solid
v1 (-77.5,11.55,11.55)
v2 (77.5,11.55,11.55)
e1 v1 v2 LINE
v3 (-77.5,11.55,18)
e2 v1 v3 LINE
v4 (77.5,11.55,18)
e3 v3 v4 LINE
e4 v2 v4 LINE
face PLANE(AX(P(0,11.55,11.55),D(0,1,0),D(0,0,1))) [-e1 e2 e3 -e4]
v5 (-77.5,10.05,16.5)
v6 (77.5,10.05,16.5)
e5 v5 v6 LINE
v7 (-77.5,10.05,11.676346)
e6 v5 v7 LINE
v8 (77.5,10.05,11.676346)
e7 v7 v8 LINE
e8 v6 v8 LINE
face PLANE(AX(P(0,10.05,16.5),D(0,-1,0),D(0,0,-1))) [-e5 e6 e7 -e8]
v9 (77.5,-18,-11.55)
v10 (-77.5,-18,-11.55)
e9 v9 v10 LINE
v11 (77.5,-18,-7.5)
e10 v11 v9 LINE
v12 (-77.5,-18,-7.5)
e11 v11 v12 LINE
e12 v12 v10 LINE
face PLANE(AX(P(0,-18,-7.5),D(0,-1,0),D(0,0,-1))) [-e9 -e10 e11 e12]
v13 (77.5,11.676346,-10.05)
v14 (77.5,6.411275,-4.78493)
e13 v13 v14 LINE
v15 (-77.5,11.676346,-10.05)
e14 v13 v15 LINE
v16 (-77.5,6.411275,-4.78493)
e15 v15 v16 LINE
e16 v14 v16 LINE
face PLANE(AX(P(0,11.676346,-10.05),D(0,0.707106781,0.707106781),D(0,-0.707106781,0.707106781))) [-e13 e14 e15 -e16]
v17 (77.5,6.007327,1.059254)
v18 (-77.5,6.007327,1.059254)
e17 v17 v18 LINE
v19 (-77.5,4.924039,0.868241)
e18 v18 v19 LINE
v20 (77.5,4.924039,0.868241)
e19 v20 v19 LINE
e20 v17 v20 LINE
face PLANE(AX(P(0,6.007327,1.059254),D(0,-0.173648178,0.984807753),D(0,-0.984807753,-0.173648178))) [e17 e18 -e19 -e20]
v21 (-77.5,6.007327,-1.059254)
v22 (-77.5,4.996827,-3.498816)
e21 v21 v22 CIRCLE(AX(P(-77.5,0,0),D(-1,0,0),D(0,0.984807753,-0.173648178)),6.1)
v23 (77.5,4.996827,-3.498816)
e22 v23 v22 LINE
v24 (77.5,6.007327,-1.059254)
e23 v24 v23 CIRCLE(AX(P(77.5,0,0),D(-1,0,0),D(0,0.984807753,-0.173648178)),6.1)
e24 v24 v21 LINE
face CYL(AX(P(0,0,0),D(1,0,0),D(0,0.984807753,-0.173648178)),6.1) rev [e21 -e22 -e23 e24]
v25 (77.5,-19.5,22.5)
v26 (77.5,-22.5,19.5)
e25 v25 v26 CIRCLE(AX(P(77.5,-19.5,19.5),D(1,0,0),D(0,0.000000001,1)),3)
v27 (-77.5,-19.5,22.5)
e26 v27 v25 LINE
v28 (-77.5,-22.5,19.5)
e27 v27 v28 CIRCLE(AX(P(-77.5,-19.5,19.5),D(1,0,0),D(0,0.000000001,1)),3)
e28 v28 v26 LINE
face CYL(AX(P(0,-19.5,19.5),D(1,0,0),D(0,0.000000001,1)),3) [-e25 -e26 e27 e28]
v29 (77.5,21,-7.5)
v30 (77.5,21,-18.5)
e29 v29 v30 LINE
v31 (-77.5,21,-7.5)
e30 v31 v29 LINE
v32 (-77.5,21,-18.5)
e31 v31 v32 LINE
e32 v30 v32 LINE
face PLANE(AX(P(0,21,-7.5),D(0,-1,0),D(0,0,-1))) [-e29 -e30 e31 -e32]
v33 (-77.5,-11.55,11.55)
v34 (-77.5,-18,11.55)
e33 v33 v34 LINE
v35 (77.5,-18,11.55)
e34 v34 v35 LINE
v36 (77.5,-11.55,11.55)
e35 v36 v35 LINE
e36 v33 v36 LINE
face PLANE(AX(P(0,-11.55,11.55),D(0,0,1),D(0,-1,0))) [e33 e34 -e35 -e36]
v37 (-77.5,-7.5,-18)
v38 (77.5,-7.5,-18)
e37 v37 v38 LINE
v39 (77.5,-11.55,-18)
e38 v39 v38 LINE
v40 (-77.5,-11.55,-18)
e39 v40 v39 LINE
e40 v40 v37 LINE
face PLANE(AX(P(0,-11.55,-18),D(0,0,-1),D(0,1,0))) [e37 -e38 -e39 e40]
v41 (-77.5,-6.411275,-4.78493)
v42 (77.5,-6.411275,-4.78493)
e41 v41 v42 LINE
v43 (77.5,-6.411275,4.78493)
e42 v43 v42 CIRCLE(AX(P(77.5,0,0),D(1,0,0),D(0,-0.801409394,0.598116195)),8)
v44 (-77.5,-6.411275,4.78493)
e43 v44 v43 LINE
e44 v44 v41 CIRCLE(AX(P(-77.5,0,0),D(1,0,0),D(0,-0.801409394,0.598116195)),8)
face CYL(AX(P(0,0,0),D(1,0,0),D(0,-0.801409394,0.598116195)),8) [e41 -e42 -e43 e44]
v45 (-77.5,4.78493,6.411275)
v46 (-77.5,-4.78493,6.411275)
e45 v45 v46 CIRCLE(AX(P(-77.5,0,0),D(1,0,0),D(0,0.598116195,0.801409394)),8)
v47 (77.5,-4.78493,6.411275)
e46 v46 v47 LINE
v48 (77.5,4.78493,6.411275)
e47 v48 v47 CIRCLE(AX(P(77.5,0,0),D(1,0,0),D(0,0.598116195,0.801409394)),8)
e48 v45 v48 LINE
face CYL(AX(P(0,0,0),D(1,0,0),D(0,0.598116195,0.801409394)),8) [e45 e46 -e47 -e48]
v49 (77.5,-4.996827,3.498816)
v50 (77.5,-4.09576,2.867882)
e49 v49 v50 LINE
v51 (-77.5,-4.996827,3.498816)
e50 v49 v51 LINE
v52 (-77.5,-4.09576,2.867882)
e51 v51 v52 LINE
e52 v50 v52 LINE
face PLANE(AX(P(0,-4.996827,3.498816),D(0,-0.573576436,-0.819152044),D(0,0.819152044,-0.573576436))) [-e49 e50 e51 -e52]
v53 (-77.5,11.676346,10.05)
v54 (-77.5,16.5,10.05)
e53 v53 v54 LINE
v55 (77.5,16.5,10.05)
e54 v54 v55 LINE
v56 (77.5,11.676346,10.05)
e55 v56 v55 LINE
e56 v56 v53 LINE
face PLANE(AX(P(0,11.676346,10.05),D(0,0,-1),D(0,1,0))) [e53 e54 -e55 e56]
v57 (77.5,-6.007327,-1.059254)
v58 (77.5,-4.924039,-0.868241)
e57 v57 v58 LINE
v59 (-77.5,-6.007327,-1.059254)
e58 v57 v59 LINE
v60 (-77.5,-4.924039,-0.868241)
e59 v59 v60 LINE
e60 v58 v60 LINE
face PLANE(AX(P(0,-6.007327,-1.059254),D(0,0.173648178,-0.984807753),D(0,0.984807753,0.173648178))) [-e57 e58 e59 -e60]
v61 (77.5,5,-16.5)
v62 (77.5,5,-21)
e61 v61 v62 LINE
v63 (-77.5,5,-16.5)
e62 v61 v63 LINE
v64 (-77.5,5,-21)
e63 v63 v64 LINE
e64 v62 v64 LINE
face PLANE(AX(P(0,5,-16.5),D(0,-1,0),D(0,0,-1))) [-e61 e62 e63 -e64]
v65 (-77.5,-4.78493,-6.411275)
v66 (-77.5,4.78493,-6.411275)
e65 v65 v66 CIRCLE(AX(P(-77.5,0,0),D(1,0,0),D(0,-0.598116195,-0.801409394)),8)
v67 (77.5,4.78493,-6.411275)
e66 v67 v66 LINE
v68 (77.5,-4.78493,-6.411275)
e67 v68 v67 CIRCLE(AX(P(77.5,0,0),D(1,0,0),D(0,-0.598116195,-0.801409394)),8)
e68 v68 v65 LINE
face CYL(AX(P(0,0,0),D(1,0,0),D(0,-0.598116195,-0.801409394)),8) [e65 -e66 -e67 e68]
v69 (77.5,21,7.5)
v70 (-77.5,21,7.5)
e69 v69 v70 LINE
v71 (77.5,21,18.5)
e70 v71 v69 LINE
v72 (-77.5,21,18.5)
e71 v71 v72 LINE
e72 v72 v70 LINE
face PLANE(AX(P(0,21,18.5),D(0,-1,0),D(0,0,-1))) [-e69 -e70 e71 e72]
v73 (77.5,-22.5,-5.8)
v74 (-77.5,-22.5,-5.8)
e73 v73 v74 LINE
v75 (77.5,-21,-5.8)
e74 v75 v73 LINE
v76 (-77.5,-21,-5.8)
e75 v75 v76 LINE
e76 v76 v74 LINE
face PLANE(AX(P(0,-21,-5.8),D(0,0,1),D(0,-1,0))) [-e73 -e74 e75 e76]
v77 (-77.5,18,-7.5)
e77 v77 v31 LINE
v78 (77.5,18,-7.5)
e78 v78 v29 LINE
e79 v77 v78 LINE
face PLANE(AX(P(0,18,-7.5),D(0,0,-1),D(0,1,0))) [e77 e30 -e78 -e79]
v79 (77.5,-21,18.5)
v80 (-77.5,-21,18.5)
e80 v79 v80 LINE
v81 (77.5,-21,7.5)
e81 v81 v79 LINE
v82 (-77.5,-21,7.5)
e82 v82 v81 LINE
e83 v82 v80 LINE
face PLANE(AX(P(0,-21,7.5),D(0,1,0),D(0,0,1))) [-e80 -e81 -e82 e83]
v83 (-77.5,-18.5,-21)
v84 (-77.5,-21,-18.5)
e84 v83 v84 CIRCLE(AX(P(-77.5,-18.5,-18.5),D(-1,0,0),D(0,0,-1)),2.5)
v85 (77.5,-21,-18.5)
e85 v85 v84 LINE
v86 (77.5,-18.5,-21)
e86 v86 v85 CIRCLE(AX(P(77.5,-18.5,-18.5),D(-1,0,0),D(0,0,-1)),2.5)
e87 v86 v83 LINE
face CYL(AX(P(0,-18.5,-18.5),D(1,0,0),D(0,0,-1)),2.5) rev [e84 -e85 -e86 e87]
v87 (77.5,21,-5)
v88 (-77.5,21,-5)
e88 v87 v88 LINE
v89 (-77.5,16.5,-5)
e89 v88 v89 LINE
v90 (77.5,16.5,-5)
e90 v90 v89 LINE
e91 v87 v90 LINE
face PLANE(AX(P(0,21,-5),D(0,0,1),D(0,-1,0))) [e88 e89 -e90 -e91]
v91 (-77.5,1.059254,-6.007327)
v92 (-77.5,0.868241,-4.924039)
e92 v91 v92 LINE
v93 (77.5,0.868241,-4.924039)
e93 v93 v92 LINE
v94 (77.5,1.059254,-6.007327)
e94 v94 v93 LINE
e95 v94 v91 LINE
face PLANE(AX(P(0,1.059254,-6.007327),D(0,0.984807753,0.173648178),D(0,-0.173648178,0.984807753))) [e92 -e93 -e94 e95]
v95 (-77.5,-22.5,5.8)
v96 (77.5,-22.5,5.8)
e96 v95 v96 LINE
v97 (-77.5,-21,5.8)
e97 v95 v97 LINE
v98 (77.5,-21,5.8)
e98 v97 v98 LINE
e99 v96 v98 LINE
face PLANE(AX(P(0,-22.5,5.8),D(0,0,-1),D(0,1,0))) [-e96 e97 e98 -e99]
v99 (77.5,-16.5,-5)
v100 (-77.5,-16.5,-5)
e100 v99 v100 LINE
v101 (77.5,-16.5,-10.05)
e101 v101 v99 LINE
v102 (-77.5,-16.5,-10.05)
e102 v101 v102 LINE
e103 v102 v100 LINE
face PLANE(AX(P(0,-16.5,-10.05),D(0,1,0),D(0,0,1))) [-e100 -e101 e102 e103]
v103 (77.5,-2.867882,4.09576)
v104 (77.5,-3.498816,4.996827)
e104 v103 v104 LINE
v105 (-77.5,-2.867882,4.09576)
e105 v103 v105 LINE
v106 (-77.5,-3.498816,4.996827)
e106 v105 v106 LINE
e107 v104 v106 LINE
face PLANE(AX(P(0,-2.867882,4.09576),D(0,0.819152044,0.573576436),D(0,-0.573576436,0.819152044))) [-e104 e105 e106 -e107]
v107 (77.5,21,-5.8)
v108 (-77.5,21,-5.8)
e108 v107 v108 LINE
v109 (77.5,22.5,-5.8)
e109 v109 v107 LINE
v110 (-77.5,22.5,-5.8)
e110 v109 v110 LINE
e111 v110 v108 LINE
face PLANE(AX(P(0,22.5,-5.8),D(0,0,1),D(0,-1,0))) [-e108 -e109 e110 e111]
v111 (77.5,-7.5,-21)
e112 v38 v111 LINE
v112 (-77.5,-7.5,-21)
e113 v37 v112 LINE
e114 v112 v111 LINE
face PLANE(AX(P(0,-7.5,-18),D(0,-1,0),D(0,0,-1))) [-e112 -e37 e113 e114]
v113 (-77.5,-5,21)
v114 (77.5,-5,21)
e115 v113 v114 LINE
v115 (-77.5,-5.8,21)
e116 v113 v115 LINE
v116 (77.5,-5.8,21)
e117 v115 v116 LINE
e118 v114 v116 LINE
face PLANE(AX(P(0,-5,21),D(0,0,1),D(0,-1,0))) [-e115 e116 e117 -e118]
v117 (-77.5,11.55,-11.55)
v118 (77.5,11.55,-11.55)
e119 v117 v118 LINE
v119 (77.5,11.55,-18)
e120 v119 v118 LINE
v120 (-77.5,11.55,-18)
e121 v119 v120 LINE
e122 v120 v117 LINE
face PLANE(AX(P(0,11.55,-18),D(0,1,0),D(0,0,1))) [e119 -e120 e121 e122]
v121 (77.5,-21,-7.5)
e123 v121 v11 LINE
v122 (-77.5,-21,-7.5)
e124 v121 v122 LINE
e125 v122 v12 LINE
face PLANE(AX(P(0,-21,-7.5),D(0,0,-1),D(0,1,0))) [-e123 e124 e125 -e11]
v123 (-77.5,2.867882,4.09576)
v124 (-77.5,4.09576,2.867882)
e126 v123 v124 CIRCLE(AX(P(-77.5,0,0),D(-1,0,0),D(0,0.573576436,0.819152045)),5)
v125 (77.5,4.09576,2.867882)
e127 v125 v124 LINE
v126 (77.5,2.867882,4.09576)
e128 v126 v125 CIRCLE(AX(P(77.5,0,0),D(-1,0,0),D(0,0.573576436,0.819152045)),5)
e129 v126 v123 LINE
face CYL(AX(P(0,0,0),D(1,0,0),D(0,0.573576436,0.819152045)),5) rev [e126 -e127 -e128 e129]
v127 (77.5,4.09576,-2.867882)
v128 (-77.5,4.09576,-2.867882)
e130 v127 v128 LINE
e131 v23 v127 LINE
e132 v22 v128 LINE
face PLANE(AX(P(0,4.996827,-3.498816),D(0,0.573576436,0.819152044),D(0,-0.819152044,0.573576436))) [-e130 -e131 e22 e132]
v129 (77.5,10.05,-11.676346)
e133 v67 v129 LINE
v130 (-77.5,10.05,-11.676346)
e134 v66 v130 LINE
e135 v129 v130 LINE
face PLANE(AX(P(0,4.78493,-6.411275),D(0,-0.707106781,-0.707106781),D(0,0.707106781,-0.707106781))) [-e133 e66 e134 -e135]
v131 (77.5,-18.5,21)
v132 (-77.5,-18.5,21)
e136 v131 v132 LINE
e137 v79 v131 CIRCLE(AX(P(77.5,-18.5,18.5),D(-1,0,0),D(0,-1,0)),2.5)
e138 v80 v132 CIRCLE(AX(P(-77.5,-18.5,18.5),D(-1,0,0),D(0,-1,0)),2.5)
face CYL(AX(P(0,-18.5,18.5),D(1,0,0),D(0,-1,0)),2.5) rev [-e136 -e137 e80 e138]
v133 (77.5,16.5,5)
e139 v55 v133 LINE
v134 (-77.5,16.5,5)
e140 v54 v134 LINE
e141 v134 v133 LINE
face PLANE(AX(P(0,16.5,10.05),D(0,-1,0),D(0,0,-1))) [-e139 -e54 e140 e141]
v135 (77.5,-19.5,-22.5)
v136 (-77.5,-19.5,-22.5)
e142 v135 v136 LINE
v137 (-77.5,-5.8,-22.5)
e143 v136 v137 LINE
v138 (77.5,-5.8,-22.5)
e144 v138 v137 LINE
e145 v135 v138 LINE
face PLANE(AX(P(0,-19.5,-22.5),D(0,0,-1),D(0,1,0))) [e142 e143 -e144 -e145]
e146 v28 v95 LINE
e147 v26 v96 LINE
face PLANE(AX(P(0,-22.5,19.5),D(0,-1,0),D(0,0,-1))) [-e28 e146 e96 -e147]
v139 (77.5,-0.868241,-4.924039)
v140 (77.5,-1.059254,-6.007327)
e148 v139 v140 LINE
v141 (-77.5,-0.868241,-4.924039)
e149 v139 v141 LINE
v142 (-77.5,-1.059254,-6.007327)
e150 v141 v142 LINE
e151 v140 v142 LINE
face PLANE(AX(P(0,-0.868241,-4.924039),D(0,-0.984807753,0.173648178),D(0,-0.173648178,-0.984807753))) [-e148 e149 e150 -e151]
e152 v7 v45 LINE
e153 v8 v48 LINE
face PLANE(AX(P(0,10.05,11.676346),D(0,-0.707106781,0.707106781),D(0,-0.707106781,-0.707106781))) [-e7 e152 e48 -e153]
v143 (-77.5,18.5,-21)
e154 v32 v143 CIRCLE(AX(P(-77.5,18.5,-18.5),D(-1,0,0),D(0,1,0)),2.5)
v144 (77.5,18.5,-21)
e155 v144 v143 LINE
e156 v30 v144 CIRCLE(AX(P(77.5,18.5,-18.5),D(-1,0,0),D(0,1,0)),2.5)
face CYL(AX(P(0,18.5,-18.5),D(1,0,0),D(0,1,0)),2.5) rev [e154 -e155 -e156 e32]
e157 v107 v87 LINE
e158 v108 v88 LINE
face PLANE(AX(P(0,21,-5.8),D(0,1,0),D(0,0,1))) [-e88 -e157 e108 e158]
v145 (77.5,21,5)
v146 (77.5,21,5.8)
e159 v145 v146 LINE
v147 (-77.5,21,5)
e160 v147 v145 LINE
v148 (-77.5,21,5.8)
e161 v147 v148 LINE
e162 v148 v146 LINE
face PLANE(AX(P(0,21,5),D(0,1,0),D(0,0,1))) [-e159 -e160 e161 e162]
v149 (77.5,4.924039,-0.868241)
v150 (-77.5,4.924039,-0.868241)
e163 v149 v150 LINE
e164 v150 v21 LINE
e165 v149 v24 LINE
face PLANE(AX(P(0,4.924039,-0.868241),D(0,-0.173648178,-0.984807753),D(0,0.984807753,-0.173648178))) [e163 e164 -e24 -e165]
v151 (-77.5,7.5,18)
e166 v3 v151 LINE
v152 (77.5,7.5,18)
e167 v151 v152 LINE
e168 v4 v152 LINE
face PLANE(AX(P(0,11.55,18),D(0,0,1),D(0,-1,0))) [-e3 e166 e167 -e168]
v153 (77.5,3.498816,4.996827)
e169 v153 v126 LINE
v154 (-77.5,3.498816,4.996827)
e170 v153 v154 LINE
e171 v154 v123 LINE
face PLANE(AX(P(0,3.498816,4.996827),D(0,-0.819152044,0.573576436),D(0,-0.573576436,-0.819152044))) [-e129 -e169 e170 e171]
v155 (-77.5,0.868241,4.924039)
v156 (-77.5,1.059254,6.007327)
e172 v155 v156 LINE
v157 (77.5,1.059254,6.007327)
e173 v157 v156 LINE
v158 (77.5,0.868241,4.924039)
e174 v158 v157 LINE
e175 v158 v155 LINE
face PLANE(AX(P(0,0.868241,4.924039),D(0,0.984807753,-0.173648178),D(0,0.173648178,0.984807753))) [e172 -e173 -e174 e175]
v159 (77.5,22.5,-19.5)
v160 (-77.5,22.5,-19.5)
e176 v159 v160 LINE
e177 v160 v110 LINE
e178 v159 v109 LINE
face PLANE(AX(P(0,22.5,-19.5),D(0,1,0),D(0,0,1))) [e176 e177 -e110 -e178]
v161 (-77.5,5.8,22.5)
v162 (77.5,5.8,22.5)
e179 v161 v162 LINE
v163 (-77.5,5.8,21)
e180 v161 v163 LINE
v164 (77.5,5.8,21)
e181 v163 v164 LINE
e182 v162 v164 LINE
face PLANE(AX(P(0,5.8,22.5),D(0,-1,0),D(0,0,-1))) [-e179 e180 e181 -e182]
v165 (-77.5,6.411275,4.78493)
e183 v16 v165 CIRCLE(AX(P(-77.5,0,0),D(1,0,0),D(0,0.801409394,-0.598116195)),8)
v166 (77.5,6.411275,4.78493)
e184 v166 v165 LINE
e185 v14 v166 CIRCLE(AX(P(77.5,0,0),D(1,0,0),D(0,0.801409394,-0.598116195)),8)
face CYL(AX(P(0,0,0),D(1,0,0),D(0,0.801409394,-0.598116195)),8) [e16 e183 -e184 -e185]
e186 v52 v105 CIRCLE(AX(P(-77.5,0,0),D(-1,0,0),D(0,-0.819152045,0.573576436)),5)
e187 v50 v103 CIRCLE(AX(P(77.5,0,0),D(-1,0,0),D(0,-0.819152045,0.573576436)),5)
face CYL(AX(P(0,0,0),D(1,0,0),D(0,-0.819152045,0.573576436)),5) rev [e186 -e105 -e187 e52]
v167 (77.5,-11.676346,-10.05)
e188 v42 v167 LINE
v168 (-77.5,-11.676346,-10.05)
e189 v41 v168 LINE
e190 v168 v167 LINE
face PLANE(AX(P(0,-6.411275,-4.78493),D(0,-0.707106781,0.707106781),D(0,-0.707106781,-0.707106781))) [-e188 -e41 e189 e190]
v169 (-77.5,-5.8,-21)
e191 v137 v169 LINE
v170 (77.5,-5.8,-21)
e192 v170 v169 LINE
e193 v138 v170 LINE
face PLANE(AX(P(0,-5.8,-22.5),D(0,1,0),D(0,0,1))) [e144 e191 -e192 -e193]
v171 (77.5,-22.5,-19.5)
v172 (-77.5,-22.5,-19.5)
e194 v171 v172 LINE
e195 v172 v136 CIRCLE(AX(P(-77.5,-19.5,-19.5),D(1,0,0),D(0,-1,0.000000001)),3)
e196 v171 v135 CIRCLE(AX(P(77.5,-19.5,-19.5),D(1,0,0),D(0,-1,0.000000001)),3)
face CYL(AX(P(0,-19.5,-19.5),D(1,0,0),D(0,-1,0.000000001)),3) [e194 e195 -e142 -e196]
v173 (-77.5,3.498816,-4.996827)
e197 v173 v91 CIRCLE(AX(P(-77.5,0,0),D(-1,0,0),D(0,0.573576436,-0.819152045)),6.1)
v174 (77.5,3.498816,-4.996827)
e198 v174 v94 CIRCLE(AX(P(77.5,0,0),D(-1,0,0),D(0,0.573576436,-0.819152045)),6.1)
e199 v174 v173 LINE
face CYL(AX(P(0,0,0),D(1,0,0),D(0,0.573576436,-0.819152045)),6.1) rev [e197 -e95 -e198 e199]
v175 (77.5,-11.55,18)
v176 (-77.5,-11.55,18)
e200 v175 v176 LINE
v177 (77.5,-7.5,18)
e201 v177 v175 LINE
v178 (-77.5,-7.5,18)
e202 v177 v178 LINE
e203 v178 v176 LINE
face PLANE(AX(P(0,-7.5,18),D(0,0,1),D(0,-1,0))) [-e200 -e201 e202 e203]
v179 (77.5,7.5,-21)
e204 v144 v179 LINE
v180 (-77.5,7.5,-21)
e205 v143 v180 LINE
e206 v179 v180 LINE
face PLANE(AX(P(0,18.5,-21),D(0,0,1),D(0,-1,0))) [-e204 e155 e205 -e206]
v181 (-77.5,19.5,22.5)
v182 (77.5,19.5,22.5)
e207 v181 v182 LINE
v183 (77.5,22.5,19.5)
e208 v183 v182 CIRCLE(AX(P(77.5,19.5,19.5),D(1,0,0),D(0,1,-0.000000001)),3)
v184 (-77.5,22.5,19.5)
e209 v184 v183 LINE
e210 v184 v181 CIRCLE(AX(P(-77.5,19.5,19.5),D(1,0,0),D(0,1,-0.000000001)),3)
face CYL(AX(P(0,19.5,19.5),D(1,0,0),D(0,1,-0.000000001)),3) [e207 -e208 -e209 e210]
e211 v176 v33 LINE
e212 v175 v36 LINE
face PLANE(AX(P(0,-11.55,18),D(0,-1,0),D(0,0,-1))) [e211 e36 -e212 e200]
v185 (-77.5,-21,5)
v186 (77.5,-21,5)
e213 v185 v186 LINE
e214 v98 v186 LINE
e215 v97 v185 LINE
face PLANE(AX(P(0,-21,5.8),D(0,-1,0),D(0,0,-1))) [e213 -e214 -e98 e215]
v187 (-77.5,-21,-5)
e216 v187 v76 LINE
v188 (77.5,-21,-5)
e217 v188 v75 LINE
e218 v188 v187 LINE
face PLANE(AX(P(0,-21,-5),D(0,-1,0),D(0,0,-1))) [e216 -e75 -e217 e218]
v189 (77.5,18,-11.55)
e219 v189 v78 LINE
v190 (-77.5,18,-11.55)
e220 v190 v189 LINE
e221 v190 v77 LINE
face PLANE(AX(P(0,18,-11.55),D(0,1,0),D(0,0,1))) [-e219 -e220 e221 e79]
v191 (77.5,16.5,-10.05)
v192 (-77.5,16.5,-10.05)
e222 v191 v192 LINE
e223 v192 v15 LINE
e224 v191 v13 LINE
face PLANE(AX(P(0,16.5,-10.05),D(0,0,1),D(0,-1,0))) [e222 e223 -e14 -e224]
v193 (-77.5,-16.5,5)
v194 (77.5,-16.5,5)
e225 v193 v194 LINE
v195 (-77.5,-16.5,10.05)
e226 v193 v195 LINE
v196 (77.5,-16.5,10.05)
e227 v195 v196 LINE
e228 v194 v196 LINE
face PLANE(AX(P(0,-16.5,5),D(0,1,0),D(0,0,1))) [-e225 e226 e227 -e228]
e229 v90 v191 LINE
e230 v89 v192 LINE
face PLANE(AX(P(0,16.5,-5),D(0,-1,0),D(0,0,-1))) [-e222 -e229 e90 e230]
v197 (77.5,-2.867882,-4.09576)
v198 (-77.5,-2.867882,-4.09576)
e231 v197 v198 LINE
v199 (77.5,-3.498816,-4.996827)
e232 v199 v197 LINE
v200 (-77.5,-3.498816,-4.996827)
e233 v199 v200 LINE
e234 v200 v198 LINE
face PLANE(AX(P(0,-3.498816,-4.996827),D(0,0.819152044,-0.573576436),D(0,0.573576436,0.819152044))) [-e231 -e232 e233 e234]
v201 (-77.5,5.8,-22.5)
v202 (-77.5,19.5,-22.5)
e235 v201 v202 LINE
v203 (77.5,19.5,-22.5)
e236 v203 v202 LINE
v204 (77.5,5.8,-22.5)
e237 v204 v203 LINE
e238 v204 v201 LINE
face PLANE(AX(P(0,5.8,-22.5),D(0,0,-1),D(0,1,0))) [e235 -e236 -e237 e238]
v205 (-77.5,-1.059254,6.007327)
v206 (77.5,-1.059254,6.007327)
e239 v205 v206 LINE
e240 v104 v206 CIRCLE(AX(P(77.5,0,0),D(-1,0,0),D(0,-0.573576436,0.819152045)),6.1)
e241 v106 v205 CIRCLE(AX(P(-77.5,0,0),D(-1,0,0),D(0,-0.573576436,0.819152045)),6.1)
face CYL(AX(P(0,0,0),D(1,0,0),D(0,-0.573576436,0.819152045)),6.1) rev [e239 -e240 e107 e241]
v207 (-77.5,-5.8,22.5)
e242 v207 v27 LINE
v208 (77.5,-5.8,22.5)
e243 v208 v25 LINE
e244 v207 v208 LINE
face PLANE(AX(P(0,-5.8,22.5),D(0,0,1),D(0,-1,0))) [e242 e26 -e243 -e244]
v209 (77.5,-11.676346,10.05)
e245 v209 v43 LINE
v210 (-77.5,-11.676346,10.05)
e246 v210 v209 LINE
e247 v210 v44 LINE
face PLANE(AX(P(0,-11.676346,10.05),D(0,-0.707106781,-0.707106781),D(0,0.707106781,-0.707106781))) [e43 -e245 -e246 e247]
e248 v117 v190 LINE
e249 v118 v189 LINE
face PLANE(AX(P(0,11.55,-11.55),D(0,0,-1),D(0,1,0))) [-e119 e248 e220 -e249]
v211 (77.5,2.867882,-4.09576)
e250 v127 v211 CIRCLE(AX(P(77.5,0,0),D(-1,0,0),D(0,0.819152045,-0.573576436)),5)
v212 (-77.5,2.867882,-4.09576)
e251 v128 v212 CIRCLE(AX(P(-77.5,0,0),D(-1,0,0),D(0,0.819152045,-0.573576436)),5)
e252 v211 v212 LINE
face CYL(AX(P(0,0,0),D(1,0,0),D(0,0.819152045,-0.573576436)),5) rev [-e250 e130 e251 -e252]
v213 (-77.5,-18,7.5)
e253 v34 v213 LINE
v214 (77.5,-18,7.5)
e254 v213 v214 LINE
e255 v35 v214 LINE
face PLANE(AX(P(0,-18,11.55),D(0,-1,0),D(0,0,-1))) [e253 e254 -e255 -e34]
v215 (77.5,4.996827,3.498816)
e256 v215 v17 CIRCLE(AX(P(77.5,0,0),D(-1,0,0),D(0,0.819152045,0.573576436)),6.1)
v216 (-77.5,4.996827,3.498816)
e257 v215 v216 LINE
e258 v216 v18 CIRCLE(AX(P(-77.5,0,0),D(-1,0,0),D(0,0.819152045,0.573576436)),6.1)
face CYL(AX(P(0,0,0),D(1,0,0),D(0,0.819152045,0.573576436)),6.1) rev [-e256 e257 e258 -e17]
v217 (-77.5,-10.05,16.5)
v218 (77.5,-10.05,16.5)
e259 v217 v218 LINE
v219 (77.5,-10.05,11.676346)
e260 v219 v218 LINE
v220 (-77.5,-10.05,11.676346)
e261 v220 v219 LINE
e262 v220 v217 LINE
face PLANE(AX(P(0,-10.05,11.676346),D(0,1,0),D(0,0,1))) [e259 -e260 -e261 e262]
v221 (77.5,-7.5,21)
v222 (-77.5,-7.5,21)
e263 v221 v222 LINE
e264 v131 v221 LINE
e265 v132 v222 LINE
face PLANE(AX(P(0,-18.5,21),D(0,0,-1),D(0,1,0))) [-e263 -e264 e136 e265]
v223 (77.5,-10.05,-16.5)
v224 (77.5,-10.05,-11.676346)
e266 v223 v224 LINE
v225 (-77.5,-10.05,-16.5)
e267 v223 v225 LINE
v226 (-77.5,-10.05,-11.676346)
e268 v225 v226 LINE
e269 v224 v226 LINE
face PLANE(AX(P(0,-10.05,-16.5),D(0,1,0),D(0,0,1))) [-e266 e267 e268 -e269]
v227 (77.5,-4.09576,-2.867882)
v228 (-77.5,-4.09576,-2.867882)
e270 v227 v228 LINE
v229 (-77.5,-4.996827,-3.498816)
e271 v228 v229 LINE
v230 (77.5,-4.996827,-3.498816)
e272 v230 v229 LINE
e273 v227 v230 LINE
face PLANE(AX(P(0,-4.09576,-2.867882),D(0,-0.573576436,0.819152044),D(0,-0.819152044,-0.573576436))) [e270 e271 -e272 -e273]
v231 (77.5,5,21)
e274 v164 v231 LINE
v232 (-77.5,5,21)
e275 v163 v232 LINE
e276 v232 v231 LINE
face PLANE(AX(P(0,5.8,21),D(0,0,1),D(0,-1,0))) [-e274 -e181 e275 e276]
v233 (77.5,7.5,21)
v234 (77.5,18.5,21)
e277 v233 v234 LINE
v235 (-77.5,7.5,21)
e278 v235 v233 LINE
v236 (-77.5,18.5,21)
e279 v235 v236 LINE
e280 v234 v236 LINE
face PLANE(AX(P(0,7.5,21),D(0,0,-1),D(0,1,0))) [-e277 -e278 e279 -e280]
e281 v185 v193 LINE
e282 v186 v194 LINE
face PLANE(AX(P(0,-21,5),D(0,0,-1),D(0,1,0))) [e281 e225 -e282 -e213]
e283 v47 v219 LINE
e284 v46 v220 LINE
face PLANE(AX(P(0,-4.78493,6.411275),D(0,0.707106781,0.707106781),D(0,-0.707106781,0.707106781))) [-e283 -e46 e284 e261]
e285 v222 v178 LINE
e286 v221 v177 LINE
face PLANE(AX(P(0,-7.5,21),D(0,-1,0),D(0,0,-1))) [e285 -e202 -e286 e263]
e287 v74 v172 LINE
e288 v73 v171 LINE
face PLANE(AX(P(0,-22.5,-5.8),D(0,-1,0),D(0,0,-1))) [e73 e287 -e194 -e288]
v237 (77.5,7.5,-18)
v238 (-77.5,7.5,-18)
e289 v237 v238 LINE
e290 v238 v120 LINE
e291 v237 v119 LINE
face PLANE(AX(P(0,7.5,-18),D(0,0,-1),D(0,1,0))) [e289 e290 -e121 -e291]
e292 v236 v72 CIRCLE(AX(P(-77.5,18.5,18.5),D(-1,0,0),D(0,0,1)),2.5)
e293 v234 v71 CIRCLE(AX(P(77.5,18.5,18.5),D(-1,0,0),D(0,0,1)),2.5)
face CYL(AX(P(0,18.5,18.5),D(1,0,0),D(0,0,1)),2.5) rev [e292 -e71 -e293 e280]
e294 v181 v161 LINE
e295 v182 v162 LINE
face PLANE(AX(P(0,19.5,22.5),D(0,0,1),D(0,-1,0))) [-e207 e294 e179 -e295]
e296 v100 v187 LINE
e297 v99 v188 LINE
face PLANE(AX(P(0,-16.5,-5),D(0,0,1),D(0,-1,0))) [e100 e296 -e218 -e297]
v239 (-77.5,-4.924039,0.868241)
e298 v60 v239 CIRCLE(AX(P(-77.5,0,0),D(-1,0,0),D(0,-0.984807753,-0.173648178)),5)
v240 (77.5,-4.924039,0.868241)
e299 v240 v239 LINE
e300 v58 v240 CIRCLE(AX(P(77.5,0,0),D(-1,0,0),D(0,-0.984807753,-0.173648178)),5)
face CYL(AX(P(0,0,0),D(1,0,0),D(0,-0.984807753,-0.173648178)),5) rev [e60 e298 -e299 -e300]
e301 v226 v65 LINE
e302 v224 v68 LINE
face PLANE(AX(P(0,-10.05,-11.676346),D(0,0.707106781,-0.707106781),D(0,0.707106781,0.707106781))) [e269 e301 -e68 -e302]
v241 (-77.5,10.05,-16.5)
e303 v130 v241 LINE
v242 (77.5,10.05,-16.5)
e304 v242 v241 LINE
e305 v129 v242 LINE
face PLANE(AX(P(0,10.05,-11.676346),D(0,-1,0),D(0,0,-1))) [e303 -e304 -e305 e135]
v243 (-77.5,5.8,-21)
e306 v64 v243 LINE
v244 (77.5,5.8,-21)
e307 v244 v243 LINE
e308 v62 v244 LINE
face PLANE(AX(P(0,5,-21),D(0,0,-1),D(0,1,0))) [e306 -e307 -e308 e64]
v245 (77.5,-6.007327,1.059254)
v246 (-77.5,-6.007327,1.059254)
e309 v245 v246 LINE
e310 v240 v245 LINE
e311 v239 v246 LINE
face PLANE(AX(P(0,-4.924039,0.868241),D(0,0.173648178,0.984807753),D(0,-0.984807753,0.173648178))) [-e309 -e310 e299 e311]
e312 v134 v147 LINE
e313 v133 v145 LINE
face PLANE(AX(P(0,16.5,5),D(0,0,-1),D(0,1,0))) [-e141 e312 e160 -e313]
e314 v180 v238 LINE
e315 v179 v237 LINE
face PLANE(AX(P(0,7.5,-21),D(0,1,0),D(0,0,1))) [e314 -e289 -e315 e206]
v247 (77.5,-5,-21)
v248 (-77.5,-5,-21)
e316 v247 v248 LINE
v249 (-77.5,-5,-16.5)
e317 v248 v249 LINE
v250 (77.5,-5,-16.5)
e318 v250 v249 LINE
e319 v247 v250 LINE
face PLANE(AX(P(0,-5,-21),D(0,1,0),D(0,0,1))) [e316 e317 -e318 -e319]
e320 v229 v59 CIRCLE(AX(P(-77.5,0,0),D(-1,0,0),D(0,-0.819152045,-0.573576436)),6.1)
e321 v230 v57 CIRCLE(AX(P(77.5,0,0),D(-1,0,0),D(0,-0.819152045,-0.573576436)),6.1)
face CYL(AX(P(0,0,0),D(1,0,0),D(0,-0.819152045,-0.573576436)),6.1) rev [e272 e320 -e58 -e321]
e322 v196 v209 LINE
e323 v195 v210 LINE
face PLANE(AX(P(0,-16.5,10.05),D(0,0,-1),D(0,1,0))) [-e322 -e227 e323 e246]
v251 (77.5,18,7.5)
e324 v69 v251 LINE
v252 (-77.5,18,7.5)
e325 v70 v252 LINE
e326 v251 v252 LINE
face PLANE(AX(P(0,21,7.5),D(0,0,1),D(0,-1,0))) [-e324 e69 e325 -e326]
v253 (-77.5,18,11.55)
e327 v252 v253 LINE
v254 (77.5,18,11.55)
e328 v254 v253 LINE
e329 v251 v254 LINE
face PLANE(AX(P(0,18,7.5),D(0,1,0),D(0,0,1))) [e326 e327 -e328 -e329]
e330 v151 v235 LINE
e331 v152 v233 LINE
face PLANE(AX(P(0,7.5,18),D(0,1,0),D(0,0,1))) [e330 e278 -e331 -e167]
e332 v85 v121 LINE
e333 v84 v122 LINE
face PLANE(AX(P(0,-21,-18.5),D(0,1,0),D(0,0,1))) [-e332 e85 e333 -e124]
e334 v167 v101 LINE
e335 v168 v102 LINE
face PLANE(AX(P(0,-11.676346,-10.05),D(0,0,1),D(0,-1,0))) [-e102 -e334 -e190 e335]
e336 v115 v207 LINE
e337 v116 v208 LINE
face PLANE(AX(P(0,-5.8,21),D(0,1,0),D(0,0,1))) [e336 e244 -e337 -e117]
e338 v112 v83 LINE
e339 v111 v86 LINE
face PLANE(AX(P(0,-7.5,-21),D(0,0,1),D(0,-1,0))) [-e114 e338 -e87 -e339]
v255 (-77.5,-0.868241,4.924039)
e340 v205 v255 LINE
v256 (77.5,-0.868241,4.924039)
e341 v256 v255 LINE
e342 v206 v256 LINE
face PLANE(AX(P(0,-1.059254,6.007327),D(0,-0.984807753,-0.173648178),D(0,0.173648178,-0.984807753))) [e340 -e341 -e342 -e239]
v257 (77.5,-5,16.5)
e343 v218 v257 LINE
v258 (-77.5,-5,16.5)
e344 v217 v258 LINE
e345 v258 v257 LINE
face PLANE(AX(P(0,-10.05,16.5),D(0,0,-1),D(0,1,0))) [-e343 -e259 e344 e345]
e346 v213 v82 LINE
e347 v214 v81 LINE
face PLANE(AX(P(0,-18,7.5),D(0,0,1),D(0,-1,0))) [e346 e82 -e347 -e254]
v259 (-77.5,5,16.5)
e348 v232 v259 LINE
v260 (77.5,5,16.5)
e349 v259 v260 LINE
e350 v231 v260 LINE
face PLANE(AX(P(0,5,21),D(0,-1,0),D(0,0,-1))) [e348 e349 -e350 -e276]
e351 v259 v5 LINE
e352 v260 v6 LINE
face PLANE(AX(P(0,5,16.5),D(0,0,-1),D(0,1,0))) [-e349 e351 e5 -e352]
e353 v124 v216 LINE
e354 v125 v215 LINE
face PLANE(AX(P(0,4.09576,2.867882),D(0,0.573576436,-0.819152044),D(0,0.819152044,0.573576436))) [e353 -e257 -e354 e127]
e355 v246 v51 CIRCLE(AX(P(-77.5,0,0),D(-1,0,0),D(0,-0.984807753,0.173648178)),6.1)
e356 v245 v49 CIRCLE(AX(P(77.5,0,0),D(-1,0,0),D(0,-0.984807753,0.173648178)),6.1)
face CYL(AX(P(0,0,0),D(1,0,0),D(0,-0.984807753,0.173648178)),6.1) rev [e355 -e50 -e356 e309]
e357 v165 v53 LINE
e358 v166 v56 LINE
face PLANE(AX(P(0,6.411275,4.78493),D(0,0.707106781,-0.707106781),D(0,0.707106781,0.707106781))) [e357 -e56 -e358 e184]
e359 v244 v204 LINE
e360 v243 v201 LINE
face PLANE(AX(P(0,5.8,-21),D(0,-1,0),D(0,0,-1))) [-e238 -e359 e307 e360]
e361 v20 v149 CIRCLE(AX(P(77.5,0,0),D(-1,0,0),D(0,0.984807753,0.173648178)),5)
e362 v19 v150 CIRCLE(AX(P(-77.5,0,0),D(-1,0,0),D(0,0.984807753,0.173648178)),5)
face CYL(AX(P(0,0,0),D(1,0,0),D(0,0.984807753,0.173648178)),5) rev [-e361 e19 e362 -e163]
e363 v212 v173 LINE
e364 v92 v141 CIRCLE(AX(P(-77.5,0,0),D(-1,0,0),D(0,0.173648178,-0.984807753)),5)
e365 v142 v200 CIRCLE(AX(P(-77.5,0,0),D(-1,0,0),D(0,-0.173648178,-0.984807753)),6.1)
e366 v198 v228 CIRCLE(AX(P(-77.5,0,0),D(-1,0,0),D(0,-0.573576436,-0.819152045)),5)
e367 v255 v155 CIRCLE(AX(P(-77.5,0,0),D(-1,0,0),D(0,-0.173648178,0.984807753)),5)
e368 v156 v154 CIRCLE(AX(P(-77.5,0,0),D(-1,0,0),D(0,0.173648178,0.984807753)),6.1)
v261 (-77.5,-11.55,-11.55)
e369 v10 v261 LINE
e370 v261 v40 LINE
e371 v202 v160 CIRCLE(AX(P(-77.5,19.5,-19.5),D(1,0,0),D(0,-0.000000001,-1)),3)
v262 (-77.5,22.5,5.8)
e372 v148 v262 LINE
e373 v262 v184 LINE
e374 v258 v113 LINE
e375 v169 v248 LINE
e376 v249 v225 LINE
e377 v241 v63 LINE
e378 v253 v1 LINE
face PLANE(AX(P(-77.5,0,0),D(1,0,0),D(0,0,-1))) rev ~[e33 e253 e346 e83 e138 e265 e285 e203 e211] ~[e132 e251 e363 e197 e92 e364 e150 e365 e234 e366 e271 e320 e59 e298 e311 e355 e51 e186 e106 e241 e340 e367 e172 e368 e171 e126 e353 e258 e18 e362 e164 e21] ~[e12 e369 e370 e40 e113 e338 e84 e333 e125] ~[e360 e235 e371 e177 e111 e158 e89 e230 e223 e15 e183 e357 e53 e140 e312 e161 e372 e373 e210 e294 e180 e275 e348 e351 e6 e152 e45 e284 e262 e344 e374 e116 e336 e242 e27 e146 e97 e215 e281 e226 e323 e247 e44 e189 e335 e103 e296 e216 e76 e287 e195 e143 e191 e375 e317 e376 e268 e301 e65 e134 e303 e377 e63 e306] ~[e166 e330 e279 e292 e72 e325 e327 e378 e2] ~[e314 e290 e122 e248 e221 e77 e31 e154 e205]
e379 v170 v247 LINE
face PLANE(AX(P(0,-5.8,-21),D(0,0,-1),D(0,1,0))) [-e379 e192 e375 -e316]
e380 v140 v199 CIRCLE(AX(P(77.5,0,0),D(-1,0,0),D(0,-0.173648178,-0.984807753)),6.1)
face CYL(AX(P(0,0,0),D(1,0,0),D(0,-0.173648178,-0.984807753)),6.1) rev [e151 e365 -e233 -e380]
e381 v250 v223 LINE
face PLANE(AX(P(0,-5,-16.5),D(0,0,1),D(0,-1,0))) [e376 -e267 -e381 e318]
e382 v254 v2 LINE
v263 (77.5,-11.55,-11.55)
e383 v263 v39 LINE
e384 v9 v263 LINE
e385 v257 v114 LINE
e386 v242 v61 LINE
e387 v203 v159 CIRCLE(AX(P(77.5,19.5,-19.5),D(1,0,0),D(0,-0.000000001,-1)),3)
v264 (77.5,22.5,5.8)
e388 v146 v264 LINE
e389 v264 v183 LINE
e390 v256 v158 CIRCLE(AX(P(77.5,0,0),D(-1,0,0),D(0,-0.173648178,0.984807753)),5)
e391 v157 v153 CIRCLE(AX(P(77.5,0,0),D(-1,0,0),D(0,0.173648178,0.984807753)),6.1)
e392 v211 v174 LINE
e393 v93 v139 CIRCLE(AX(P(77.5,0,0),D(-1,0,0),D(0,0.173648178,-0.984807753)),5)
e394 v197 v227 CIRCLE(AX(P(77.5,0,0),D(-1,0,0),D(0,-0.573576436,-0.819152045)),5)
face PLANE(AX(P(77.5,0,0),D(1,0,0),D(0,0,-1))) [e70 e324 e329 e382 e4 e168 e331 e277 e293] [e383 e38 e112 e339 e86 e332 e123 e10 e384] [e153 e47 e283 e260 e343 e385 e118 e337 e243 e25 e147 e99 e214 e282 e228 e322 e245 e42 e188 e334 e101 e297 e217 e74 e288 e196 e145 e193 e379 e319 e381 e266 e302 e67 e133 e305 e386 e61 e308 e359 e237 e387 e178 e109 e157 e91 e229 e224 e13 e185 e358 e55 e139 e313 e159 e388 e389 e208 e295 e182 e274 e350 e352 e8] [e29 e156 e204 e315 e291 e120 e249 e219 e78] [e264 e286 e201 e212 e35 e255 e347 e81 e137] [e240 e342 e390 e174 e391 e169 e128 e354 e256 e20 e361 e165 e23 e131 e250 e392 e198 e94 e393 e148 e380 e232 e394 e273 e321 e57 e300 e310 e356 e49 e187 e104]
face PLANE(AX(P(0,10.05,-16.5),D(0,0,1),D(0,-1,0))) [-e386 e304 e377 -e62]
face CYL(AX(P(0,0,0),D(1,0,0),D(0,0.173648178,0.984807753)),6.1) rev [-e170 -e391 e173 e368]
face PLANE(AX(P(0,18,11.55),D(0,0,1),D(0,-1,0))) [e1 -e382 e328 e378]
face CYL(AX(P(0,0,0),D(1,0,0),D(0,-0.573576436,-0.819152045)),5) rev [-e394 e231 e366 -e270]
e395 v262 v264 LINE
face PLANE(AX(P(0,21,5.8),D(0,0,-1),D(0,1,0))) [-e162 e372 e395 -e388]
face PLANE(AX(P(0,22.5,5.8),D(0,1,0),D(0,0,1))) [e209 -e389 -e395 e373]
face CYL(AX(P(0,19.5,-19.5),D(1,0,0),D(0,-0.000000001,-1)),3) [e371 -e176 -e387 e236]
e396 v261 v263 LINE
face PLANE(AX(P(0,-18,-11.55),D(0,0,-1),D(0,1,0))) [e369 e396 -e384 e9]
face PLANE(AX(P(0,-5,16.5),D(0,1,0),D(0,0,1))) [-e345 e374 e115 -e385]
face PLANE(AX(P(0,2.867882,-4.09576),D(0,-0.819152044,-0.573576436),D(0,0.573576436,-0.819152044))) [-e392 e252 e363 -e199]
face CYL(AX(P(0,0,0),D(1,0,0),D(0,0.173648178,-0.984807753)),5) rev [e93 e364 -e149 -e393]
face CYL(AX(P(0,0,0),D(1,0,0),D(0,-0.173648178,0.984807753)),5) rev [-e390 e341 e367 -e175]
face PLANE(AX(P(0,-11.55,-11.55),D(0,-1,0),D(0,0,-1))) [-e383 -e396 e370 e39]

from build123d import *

# Parameters (mm, degrees)
BR_EXTRUDE_DEPTH      = 77.5
BR_EXTRUDE_DEPTH_BACK = 77.5


with BuildPart() as part:
    # Sketch2 → BR_Extrude (new body, two sides)
    with BuildSketch(Plane(origin=(0, 0, 0), x_dir=(0, 0, -1), z_dir=(1, 0, 0))) as br_extrude_sk:
        with BuildLine():
            Line((-10.05, 11.676345597), (-10.05, 16.5))
            Line((-10.05, 16.5), (-5, 16.5))
            Line((-5, 16.5), (-5, 21))
            Line((-5, 21), (-5.8, 21))
            Line((-5.8, 21), (-5.8, 22.5))
            Line((-5.8, 22.5), (-19.5, 22.5))
            ThreePointArc((-19.5, 22.5), (-21.621320344, 21.621320344), (-22.5, 19.5))
            Line((-22.5, 19.5), (-22.5, 5.8))
            Line((-22.5, 5.8), (-21, 5.8))
            Line((-21, 5.8), (-21, 5))
            Line((-21, 5), (-16.5, 5))
            Line((-16.5, 5), (-16.5, 10.05))
            Line((-16.5, 10.05), (-11.676345597, 10.05))
            Line((-11.676345597, 10.05), (-6.411275155, 4.784929559))
            ThreePointArc((-6.411275155, 4.784929559), (-8, 0), (-6.411275155, -4.784929559))
            Line((-6.411275155, -4.784929559), (-11.676345597, -10.05))
            Line((-11.676345597, -10.05), (-16.5, -10.05))
            Line((-16.5, -10.05), (-16.5, -5))
            Line((-16.5, -5), (-21, -5))
            Line((-21, -5), (-21, -5.8))
            Line((-21, -5.8), (-22.5, -5.8))
            Line((-22.5, -5.8), (-22.5, -19.5))
            ThreePointArc((-22.5, -19.5), (-21.621320344, -21.621320344), (-19.5, -22.5))
            Line((-19.5, -22.5), (-5.8, -22.5))
            Line((-5.8, -22.5), (-5.8, -21))
            Line((-5.8, -21), (-5, -21))
            Line((-5, -21), (-5, -16.5))
            Line((-5, -16.5), (-10.05, -16.5))
            Line((-10.05, -16.5), (-10.05, -11.676345597))
            Line((-10.05, -11.676345597), (-4.784929559, -6.411275155))
            ThreePointArc((-4.784929559, -6.411275155), (0, -8), (4.784929559, -6.411275155))
            Line((4.784929559, -6.411275155), (10.05, -11.676345597))
            Line((10.05, -11.676345597), (10.05, -16.5))
            Line((10.05, -16.5), (5, -16.5))
            Line((5, -16.5), (5, -21))
            Line((5, -21), (5.8, -21))
            Line((5.8, -21), (5.8, -22.5))
            Line((5.8, -22.5), (19.5, -22.5))
            ThreePointArc((19.5, -22.5), (21.621320344, -21.621320344), (22.5, -19.5))
            Line((22.5, -19.5), (22.5, -5.8))
            Line((22.5, -5.8), (21, -5.8))
            Line((21, -5.8), (21, -5))
            Line((21, -5), (16.5, -5))
            Line((16.5, -5), (16.5, -10.05))
            Line((16.5, -10.05), (11.676345597, -10.05))
            Line((11.676345597, -10.05), (6.411275155, -4.784929559))
            ThreePointArc((6.411275155, -4.784929559), (8, 0), (6.411275155, 4.784929559))
            Line((6.411275155, 4.784929559), (11.676345597, 10.05))
            Line((11.676345597, 10.05), (16.5, 10.05))
            Line((16.5, 10.05), (16.5, 5))
            Line((16.5, 5), (21, 5))
            Line((21, 5), (21, 5.8))
            Line((21, 5.8), (22.5, 5.8))
            Line((22.5, 5.8), (22.5, 19.5))
            ThreePointArc((22.5, 19.5), (21.621320344, 21.621320344), (19.5, 22.5))
            Line((19.5, 22.5), (5.8, 22.5))
            Line((5.8, 22.5), (5.8, 21))
            Line((5.8, 21), (5, 21))
            Line((5, 21), (5, 16.5))
            Line((5, 16.5), (10.05, 16.5))
            Line((10.05, 16.5), (10.05, 11.676345597))
            Line((10.05, 11.676345597), (4.784929559, 6.411275155))
            ThreePointArc((4.784929559, 6.411275155), (0, 8), (-4.784929559, 6.411275155))
            Line((-4.784929559, 6.411275155), (-10.05, 11.676345597))
        make_face()
        with BuildLine():
            Line((11.55, 11.55), (11.55, 18))
            Line((11.55, 18), (7.5, 18))
            Line((7.5, 18), (7.5, 21))
            Line((7.5, 21), (18.5, 21))
            ThreePointArc((18.5, 21), (20.267766953, 20.267766953), (21, 18.5))
            Line((21, 18.5), (21, 7.5))
            Line((21, 7.5), (18, 7.5))
            Line((18, 7.5), (18, 11.55))
            Line((18, 11.55), (11.55, 11.55))
        make_face(mode=Mode.SUBTRACT)
        with BuildLine():
            Line((11.55, -11.55), (18, -11.55))
            Line((18, -11.55), (18, -7.5))
            Line((18, -7.5), (21, -7.5))
            Line((21, -7.5), (21, -18.5))
            ThreePointArc((21, -18.5), (20.267766953, -20.267766953), (18.5, -21))
            Line((18.5, -21), (7.5, -21))
            Line((7.5, -21), (7.5, -18))
            Line((7.5, -18), (11.55, -18))
            Line((11.55, -18), (11.55, -11.55))
        make_face(mode=Mode.SUBTRACT)
        with BuildLine():
            Line((-11.55, 11.55), (-18, 11.55))
            Line((-18, 11.55), (-18, 7.5))
            Line((-18, 7.5), (-21, 7.5))
            Line((-21, 7.5), (-21, 18.5))
            ThreePointArc((-21, 18.5), (-20.267766953, 20.267766953), (-18.5, 21))
            Line((-18.5, 21), (-7.5, 21))
            Line((-7.5, 21), (-7.5, 18))
            Line((-7.5, 18), (-11.55, 18))
            Line((-11.55, 18), (-11.55, 11.55))
        make_face(mode=Mode.SUBTRACT)
        with BuildLine():
            Line((-11.55, -11.55), (-11.55, -18))
            Line((-11.55, -18), (-7.5, -18))
            Line((-7.5, -18), (-7.5, -21))
            Line((-7.5, -21), (-18.5, -21))
            ThreePointArc((-18.5, -21), (-20.267766953, -20.267766953), (-21, -18.5))
            Line((-21, -18.5), (-21, -7.5))
            Line((-21, -7.5), (-18, -7.5))
            Line((-18, -7.5), (-18, -11.55))
            Line((-18, -11.55), (-11.55, -11.55))
        make_face(mode=Mode.SUBTRACT)
        with BuildLine():
            Line((-6.007327293, -1.059253884), (-4.924038765, -0.868240888))
            ThreePointArc((-4.924038765, -0.868240888), (-5, 0), (-4.924038765, 0.868240888))
            Line((-4.924038765, 0.868240888), (-6.007327293, 1.059253884))
            ThreePointArc((-6.007327293, 1.059253884), (-5.635665148, 2.334368937), (-4.99682747, 3.498816262))
            Line((-4.99682747, 3.498816262), (-4.095760221, 2.867882182))
            ThreePointArc((-4.095760221, 2.867882182), (-3.535533906, 3.535533906), (-2.867882182, 4.095760221))
            Line((-2.867882182, 4.095760221), (-3.498816262, 4.99682747))
            ThreePointArc((-3.498816262, 4.99682747), (-2.334368937, 5.635665148), (-1.059253884, 6.007327293))
            Line((-1.059253884, 6.007327293), (-0.868240888, 4.924038765))
            ThreePointArc((-0.868240888, 4.924038765), (0, 5), (0.868240888, 4.924038765))
            Line((0.868240888, 4.924038765), (1.059253884, 6.007327293))
            ThreePointArc((1.059253884, 6.007327293), (2.334368937, 5.635665148), (3.498816262, 4.99682747))
            Line((3.498816262, 4.99682747), (2.867882182, 4.095760221))
            ThreePointArc((2.867882182, 4.095760221), (3.535533906, 3.535533906), (4.095760221, 2.867882182))
            Line((4.095760221, 2.867882182), (4.99682747, 3.498816262))
            ThreePointArc((4.99682747, 3.498816262), (5.635665148, 2.334368937), (6.007327293, 1.059253884))
            Line((6.007327293, 1.059253884), (4.924038765, 0.868240888))
            ThreePointArc((4.924038765, 0.868240888), (5, 0), (4.924038765, -0.868240888))
            Line((4.924038765, -0.868240888), (6.007327293, -1.059253884))
            ThreePointArc((6.007327293, -1.059253884), (5.635665148, -2.334368937), (4.99682747, -3.498816262))
            Line((4.99682747, -3.498816262), (4.095760221, -2.867882182))
            ThreePointArc((4.095760221, -2.867882182), (3.535533906, -3.535533906), (2.867882182, -4.095760221))
            Line((2.867882182, -4.095760221), (3.498816262, -4.99682747))
            ThreePointArc((3.498816262, -4.99682747), (2.334368937, -5.635665148), (1.059253884, -6.007327293))
            Line((1.059253884, -6.007327293), (0.868240888, -4.924038765))
            ThreePointArc((0.868240888, -4.924038765), (0, -5), (-0.868240888, -4.924038765))
            Line((-0.868240888, -4.924038765), (-1.059253884, -6.007327293))
            ThreePointArc((-1.059253884, -6.007327293), (-2.334368937, -5.635665148), (-3.498816262, -4.99682747))
            Line((-3.498816262, -4.99682747), (-2.867882182, -4.095760221))
            ThreePointArc((-2.867882182, -4.095760221), (-3.535533906, -3.535533906), (-4.095760221, -2.867882182))
            Line((-4.095760221, -2.867882182), (-4.99682747, -3.498816262))
            ThreePointArc((-4.99682747, -3.498816262), (-5.635665148, -2.334368937), (-6.007327293, -1.059253884))
        make_face(mode=Mode.SUBTRACT)
    extrude(amount=BR_EXTRUDE_DEPTH)
    extrude(br_extrude_sk.sketch, amount=-BR_EXTRUDE_DEPTH_BACK)


solid = part.part
